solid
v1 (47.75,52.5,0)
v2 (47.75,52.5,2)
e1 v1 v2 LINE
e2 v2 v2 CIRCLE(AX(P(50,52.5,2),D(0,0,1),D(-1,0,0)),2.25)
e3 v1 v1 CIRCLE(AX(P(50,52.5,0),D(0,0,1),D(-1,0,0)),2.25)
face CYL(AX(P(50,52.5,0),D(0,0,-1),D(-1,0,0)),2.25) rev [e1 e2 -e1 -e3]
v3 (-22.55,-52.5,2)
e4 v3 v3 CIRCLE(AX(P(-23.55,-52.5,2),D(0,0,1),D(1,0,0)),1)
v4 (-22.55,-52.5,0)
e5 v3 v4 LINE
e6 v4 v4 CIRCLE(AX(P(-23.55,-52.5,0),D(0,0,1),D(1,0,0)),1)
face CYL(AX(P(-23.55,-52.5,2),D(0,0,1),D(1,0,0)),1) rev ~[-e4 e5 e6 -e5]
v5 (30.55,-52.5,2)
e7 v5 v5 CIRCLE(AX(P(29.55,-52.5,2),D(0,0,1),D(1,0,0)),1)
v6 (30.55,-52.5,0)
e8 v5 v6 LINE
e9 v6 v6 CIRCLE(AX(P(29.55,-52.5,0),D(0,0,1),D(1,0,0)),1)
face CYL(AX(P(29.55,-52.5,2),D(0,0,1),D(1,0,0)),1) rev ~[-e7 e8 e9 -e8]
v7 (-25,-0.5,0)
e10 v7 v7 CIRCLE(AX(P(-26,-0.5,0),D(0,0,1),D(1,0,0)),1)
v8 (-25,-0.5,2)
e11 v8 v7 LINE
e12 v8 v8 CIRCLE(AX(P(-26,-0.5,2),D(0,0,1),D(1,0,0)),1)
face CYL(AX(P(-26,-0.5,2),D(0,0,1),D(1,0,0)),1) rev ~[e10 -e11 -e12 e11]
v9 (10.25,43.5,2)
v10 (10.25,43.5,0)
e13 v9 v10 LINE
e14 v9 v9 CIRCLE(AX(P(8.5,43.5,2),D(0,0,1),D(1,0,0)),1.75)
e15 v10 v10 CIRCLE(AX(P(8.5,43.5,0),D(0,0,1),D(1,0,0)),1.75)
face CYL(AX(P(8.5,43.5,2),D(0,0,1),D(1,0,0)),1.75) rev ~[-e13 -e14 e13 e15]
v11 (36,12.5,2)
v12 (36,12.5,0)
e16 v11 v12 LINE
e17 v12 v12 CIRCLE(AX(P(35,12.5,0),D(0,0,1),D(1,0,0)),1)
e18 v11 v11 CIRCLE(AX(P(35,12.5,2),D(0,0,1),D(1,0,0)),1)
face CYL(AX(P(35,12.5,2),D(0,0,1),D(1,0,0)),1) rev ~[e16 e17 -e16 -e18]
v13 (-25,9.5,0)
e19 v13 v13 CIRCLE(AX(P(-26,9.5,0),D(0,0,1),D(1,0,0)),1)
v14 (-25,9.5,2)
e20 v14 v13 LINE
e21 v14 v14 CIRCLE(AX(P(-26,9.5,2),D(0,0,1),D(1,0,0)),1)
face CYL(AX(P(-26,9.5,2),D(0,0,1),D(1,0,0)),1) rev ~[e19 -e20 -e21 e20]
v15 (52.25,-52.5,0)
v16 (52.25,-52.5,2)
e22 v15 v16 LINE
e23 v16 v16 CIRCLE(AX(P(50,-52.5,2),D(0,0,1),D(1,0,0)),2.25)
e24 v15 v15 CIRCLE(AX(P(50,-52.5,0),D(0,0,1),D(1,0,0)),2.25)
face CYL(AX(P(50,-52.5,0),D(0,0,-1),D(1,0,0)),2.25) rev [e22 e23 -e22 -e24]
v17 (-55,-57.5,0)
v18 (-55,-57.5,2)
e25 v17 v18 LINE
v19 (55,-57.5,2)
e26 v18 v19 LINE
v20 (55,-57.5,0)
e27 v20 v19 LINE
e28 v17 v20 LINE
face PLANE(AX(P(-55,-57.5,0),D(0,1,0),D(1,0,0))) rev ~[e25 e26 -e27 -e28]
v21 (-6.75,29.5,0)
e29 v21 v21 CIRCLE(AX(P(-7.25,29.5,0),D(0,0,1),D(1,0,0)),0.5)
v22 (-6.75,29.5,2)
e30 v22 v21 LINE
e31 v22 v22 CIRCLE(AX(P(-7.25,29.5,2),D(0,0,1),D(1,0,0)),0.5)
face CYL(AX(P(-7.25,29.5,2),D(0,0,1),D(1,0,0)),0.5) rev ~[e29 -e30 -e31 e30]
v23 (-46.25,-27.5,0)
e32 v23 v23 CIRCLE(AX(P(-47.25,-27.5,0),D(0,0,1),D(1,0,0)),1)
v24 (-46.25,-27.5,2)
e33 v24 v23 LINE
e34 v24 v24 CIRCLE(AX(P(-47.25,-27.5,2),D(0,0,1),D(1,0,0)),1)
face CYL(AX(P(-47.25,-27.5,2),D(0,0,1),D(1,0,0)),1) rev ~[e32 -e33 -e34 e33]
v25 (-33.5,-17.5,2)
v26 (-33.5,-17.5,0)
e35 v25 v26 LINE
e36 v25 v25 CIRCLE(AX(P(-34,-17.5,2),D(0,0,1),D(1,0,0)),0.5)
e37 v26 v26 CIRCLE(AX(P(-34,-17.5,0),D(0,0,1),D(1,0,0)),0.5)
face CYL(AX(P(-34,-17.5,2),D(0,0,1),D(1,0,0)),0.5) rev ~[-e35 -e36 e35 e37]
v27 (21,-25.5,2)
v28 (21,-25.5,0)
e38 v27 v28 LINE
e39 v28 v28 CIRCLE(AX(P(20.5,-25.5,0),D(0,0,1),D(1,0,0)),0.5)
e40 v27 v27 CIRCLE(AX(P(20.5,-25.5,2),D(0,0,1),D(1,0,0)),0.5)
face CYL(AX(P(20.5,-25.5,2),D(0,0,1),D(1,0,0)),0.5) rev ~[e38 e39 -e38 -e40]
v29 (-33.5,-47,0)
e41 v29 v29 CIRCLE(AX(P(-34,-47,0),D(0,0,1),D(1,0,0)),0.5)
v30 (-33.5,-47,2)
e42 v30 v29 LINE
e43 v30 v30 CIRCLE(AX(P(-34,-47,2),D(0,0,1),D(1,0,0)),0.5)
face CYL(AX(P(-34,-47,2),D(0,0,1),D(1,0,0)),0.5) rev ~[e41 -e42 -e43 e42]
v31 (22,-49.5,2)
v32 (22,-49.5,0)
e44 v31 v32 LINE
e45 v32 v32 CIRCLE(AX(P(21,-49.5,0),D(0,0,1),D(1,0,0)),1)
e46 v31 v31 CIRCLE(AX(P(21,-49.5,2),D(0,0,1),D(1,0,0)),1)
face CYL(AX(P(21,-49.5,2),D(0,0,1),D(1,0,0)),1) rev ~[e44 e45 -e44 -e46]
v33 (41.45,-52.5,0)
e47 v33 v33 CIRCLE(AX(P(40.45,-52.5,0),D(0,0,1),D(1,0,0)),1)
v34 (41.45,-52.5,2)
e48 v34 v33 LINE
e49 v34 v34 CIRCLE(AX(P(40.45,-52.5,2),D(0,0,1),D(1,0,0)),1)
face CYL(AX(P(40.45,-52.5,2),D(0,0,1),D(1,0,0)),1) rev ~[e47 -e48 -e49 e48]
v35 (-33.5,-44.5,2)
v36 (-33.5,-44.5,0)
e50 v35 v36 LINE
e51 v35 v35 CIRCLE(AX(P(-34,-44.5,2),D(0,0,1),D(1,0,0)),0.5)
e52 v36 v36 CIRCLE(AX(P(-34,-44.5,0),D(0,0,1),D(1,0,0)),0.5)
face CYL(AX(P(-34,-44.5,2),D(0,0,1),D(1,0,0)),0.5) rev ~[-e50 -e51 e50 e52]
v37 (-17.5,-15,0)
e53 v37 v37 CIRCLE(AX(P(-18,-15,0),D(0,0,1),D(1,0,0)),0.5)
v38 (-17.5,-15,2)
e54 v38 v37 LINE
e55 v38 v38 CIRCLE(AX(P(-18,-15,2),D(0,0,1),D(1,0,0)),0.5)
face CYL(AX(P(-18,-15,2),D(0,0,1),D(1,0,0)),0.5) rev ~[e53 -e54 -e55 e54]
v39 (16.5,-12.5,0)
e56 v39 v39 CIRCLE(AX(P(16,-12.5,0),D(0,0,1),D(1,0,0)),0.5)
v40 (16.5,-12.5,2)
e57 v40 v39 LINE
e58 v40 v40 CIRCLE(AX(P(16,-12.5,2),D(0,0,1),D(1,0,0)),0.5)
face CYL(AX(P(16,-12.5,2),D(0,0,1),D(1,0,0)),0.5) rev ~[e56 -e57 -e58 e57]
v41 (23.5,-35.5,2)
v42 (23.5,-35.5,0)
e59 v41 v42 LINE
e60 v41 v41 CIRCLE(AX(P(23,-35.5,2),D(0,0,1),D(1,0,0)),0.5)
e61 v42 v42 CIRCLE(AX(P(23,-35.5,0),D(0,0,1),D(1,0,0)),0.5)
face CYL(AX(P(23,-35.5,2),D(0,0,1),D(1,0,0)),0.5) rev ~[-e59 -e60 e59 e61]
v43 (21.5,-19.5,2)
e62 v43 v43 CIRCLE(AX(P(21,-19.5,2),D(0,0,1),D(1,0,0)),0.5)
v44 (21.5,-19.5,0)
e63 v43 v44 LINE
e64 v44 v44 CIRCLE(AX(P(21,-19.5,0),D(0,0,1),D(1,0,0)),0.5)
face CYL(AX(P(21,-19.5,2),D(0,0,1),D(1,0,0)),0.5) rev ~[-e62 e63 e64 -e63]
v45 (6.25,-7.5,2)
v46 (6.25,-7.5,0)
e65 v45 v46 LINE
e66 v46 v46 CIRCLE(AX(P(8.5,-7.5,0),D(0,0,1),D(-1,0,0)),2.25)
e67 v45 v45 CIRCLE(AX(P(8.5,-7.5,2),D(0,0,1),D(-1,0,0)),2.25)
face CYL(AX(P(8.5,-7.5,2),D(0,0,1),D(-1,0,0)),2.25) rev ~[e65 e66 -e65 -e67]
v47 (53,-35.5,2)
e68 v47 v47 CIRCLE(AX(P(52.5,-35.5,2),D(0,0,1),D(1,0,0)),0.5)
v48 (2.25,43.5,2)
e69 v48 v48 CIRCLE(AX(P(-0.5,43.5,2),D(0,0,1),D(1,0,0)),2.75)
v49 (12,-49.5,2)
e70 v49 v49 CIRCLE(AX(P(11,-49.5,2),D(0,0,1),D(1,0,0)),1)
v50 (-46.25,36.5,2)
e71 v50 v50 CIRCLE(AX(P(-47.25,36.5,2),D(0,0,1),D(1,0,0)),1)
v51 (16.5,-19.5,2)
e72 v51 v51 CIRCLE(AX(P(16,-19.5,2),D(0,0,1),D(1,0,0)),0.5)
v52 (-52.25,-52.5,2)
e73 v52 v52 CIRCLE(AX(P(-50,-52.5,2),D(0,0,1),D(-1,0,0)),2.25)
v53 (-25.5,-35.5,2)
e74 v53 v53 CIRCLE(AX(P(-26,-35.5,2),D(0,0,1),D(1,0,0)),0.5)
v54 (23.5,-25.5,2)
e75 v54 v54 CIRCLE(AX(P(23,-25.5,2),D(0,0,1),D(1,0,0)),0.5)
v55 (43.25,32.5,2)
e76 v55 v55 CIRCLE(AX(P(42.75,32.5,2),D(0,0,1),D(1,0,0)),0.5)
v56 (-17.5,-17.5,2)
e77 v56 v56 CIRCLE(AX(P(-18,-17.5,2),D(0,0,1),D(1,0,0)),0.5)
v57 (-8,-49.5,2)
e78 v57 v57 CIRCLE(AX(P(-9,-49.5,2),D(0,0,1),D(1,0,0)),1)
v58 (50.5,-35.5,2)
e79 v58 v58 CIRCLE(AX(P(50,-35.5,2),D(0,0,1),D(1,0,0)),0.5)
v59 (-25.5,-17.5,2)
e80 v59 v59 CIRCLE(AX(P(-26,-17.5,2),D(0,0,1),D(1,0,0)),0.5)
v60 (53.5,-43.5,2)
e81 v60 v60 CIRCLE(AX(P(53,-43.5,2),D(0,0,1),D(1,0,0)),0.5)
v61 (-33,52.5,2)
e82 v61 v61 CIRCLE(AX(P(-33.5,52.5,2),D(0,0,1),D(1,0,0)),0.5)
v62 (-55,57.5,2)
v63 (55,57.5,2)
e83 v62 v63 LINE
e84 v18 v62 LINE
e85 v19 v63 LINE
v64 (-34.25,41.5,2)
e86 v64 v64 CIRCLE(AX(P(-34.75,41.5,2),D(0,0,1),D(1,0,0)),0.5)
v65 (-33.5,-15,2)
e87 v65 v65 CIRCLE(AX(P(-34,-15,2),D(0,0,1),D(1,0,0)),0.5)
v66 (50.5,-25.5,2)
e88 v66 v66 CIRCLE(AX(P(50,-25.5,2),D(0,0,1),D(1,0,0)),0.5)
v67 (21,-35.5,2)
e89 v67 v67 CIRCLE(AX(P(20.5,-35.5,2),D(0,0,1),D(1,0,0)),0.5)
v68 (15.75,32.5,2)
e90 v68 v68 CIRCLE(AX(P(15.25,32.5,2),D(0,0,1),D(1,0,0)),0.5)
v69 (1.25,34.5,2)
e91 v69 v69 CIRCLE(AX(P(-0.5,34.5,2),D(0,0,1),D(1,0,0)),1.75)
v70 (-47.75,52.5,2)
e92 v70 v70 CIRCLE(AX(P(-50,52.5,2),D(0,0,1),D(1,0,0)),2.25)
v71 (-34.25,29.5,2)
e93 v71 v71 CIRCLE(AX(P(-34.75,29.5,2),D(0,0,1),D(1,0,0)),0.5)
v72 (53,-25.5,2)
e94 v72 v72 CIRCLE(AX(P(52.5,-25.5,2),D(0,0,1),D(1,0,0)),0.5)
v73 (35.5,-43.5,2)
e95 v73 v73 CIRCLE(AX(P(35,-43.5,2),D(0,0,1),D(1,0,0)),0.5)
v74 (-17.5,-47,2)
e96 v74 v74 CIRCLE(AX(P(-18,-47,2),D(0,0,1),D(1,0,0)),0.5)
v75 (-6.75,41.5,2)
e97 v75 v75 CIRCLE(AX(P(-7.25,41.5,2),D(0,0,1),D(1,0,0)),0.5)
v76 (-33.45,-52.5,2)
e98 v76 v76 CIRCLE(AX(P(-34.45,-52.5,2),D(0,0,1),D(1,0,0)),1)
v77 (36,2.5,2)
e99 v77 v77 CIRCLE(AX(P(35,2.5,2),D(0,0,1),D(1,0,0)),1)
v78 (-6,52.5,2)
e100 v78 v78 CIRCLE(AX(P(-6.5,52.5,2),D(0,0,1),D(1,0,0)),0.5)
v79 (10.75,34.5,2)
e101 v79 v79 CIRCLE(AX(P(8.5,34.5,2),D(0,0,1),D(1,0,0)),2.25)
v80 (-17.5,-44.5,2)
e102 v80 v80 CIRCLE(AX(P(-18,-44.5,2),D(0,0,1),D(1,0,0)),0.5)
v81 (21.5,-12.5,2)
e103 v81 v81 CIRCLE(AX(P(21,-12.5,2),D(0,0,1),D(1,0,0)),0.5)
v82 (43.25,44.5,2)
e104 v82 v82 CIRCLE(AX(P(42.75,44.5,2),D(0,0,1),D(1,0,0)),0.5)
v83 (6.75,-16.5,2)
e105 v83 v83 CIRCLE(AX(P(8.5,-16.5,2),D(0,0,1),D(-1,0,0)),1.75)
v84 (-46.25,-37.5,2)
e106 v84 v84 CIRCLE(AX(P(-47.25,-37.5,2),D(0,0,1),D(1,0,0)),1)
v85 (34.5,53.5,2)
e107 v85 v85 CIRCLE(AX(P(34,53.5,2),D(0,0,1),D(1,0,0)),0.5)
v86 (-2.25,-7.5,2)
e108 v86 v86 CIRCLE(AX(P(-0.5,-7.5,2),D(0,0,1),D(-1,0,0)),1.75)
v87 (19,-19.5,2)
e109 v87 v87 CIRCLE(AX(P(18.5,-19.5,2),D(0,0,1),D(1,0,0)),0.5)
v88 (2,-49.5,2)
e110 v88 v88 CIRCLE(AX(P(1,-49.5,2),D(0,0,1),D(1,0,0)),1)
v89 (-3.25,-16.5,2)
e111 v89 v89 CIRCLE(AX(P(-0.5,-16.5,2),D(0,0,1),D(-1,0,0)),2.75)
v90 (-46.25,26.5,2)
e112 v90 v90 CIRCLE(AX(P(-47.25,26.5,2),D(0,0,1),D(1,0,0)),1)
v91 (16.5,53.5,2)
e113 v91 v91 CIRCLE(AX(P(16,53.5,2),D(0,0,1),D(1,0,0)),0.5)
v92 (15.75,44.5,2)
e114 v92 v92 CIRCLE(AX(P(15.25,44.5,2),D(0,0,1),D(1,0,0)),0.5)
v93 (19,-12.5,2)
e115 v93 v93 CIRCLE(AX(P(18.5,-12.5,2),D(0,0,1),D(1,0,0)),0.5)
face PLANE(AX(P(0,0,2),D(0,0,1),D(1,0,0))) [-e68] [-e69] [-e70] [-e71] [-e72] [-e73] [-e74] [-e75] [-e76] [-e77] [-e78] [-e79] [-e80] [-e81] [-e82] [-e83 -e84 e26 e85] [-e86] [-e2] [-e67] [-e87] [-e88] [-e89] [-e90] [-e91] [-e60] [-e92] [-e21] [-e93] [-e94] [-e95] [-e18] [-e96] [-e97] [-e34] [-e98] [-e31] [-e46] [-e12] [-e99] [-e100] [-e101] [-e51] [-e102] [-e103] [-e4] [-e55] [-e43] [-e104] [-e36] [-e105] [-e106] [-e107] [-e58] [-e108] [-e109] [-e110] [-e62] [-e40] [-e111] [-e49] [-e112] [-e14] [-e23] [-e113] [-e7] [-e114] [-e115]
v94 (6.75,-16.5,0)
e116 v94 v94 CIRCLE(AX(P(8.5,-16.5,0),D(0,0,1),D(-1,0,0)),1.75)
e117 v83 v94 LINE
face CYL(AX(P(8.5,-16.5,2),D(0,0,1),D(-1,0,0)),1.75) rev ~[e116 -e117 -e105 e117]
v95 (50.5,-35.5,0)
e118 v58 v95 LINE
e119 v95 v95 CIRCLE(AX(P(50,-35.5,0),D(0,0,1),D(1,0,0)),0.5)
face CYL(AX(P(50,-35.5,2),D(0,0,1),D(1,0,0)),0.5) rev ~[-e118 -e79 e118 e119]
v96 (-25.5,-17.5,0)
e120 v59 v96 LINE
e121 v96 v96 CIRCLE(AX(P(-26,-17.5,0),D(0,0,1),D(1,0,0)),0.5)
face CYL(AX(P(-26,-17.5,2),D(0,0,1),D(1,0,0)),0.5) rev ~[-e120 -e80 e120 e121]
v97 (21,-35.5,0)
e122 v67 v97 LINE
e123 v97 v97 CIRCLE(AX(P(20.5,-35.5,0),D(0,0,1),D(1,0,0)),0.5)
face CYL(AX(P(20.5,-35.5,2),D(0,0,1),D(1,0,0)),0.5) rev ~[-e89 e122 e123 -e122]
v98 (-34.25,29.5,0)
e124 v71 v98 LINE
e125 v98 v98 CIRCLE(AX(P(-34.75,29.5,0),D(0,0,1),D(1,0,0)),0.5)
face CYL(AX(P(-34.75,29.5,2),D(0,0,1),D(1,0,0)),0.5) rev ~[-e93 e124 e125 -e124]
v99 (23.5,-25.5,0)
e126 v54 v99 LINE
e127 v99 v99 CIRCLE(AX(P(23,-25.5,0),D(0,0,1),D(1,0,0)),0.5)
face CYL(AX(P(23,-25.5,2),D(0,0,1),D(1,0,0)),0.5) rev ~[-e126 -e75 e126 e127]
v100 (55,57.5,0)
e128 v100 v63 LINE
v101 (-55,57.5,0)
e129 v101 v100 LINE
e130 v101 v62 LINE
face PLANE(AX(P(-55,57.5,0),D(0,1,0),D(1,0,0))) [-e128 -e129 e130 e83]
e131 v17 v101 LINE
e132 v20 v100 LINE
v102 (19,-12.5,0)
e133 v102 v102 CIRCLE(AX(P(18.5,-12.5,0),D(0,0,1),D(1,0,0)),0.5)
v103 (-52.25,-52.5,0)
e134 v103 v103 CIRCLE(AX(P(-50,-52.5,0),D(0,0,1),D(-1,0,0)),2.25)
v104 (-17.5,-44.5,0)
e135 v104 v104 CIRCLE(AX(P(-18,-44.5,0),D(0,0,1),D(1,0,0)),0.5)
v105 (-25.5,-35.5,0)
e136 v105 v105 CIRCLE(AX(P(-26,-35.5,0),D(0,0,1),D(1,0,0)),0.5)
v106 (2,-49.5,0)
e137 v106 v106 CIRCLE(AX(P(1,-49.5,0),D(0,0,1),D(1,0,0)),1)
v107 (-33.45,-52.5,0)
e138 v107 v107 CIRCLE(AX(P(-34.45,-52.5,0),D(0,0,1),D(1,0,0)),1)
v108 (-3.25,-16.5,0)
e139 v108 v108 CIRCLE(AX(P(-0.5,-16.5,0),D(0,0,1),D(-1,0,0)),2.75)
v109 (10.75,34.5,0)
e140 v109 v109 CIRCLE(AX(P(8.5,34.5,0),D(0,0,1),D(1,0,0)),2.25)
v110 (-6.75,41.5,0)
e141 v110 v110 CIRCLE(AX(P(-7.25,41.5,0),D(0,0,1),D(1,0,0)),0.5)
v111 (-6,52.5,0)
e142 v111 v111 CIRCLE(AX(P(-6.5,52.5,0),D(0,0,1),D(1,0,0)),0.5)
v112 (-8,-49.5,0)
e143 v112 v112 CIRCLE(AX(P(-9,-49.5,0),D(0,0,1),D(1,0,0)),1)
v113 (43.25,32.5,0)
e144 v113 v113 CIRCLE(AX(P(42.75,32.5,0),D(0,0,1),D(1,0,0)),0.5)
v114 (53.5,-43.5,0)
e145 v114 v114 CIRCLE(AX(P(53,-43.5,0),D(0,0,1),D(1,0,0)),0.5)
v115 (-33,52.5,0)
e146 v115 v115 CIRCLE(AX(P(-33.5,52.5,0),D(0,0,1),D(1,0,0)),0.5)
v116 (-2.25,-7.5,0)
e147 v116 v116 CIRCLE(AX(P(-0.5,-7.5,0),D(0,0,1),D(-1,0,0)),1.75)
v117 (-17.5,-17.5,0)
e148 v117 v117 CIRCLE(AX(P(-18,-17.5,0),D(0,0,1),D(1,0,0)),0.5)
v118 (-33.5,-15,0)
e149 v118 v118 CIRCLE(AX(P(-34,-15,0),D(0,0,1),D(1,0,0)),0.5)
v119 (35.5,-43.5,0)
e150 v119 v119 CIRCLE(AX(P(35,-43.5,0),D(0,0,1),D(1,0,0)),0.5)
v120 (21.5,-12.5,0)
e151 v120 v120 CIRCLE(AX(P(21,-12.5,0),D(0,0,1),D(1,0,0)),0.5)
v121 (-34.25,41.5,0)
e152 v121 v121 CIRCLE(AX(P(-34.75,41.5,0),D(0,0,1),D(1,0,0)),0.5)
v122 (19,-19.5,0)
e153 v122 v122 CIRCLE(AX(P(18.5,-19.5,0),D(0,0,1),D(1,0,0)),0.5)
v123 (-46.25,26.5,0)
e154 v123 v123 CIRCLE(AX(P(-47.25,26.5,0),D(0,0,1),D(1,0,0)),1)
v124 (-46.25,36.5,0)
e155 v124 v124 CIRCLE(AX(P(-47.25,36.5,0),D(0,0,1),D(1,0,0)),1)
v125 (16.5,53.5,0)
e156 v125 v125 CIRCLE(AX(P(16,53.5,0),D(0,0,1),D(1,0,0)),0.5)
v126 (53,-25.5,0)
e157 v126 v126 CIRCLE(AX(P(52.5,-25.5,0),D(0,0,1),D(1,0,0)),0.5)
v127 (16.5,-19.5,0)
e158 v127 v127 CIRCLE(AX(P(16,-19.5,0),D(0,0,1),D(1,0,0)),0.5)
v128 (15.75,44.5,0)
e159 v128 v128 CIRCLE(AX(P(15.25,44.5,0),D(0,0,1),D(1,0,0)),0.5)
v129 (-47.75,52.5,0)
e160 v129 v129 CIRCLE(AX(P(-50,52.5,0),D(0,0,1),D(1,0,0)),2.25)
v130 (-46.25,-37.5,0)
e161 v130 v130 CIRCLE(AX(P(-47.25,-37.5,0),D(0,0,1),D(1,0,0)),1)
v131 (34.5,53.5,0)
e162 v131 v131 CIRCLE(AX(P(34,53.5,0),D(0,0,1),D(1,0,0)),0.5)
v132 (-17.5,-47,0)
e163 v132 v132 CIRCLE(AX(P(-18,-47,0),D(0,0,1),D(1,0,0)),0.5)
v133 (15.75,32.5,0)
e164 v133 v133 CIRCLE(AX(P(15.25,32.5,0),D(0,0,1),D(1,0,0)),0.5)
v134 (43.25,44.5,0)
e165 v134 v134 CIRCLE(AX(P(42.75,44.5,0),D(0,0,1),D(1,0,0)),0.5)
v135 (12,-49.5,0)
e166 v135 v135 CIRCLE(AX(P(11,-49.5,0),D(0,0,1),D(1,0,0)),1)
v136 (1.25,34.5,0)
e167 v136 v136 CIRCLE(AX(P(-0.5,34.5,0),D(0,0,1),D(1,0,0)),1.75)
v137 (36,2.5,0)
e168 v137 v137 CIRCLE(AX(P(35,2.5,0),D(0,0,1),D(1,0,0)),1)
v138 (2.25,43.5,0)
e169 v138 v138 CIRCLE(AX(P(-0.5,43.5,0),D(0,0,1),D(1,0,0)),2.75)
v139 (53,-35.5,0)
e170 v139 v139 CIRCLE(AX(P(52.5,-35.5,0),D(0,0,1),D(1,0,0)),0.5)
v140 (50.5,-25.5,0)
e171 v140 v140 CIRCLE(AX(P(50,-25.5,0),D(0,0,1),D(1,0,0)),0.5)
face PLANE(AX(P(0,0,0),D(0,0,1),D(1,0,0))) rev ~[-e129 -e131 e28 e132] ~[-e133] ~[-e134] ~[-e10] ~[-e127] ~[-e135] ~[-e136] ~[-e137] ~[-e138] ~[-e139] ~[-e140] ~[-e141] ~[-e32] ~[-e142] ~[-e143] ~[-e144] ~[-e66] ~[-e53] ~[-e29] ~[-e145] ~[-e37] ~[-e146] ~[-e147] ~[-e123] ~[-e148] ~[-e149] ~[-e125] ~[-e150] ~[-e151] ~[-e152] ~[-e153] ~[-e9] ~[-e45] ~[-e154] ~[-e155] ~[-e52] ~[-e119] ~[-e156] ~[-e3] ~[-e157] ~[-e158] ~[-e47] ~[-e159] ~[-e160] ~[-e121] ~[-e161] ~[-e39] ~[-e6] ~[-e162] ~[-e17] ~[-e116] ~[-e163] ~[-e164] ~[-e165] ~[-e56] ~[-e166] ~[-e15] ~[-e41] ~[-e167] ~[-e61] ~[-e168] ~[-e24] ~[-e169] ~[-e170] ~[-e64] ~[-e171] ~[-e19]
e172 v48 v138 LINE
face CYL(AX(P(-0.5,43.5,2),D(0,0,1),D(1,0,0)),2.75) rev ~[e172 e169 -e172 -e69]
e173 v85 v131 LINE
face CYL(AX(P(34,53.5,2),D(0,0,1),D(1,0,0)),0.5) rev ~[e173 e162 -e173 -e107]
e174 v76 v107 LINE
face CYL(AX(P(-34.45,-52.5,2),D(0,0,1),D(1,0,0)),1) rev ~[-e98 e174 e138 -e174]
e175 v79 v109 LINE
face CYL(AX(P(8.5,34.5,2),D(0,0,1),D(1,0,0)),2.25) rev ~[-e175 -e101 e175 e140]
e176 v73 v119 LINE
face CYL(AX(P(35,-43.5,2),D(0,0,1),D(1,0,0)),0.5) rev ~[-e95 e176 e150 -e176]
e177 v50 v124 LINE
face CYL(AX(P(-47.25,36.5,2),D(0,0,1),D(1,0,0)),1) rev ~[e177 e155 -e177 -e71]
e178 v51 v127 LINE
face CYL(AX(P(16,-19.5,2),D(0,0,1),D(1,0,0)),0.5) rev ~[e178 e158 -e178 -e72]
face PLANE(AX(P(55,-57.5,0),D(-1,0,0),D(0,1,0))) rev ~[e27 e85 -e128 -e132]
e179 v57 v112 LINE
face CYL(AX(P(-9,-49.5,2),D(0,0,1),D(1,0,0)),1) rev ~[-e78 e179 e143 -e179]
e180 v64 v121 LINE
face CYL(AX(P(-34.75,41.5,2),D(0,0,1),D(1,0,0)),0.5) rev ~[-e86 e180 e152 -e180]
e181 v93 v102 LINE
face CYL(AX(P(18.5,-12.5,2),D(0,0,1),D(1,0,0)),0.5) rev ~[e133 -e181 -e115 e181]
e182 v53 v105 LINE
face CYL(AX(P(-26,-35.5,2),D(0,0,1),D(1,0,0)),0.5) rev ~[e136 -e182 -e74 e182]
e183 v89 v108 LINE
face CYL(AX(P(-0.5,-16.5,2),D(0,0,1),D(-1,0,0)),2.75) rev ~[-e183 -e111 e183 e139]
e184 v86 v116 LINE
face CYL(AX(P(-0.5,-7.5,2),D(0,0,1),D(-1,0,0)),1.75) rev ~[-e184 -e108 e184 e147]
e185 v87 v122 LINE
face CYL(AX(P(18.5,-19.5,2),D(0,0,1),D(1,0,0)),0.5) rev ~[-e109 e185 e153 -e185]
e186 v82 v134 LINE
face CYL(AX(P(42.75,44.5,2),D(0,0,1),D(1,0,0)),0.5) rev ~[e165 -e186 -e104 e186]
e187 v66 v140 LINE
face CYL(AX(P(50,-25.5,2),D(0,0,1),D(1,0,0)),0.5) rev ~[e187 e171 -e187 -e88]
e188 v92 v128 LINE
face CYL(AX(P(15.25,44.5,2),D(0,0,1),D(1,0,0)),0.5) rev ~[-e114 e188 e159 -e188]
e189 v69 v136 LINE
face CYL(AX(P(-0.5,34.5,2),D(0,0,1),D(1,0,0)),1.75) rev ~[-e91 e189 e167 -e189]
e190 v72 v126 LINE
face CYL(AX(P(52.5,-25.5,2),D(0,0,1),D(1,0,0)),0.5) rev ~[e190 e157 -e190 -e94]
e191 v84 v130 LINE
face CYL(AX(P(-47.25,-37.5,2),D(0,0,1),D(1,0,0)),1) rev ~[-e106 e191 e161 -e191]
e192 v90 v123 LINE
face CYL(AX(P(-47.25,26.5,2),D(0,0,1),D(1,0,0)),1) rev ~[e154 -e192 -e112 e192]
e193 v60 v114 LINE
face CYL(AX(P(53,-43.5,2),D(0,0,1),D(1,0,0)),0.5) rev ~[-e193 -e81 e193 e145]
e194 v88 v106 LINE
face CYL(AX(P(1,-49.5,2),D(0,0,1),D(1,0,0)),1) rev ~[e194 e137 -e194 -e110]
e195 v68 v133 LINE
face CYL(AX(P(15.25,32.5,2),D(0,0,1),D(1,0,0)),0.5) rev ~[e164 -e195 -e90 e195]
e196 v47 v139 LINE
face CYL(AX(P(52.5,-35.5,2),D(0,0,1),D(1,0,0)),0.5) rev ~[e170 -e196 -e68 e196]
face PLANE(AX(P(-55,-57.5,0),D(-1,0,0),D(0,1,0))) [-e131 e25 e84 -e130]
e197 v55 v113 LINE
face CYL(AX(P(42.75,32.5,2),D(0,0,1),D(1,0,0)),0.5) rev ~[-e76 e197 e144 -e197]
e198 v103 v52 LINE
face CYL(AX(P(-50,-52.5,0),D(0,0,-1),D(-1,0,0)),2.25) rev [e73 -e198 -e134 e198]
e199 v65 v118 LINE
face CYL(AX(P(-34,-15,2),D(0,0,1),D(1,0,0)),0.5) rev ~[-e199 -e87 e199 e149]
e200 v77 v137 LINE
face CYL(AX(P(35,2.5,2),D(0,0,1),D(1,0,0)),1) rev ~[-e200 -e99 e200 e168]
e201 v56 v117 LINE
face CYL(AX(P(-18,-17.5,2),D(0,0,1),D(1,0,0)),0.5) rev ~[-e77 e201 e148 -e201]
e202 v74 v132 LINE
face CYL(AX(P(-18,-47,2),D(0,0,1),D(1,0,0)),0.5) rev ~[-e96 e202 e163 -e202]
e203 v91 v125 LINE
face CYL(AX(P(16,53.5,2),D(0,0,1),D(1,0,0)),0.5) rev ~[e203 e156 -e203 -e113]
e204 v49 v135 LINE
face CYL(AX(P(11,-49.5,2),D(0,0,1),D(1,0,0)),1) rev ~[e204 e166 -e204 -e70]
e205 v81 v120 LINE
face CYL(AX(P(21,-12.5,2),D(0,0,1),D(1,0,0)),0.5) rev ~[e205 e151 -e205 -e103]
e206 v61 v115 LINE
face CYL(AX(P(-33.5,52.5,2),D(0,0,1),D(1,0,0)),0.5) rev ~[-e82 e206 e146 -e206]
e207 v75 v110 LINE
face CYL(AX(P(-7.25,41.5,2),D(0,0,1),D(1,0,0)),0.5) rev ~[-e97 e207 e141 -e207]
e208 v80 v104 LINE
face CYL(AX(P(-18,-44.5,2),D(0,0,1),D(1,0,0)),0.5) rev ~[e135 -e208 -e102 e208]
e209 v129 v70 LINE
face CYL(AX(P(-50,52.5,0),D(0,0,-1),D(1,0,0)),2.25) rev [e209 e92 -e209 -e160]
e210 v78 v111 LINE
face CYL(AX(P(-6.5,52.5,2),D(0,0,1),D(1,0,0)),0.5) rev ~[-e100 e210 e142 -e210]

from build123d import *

# Parameters (mm, degrees)
SKETCH_1_W          = 110
SKETCH_1_H          = 115
SKETCH_1_R          = 2.25
EXTRUDE_1_DEPTH     = 2
SKETCH_2_R          = 1
SKETCH_2_R_2        = 0.5
CUT_EXTRUDE_1_DEPTH = 2
SKETCH_3_R          = 1
SKETCH_3_R_2        = 1.75
SKETCH_3_R_3        = 2.75
SKETCH_3_R_4        = 2.25
SKETCH_3_R_5        = 0.5
CUT_EXTRUDE_2_DEPTH = 2
SKETCH_4_R          = 0.5
CUT_EXTRUDE_3_DEPTH = 10


with BuildPart() as part:
    # Эскиз1 → Вытянуть1 (new body)
    with BuildSketch(Plane.XY):
        Rectangle(SKETCH_1_W, SKETCH_1_H)
        with Locations((-50, 52.5)):
            Circle(SKETCH_1_R, mode=Mode.SUBTRACT)
        with Locations(Location((50, 52.5, 0), (0, 0, 180))):
            Circle(SKETCH_1_R, mode=Mode.SUBTRACT)
        with Locations((50, -52.5)):
            Circle(SKETCH_1_R, mode=Mode.SUBTRACT)
        with Locations(Location((-50, -52.5, 0), (0, 0, 180))):
            Circle(SKETCH_1_R, mode=Mode.SUBTRACT)
    extrude(amount=EXTRUDE_1_DEPTH)

    # Эскиз2 → Вырез-Вытянуть1 (cut)
    with BuildSketch(Plane.XY.offset(2)):
        with Locations((-47.25, -37.5)):
            Circle(SKETCH_2_R)
        with Locations((-47.25, -27.5)):
            Circle(SKETCH_2_R)
        with Locations((-47.25, 26.5)):
            Circle(SKETCH_2_R)
        with Locations((-47.25, 36.5)):
            Circle(SKETCH_2_R)
        with Locations((29.55, -52.5)):
            Circle(SKETCH_2_R)
        with Locations((40.45, -52.5)):
            Circle(SKETCH_2_R)
        with Locations((-34.45, -52.5)):
            Circle(SKETCH_2_R)
        with Locations((-23.55, -52.5)):
            Circle(SKETCH_2_R)
        with Locations((-34, -44.5)):
            Circle(SKETCH_2_R_2)
        with Locations((-34, -17.5)):
            Circle(SKETCH_2_R_2)
        with Locations((-18, -44.5)):
            Circle(SKETCH_2_R_2)
        with Locations((-18, -17.5)):
            Circle(SKETCH_2_R_2)
        with Locations((-34, -47)):
            Circle(SKETCH_2_R_2)
        with Locations((-9, -49.5)):
            Circle(SKETCH_2_R)
        with Locations((1, -49.5)):
            Circle(SKETCH_2_R)
        with Locations((11, -49.5)):
            Circle(SKETCH_2_R)
        with Locations((21, -49.5)):
            Circle(SKETCH_2_R)
        with Locations((-34, -15)):
            Circle(SKETCH_2_R_2)
        with Locations((-18, -15)):
            Circle(SKETCH_2_R_2)
        with Locations((-18, -47)):
            Circle(SKETCH_2_R_2)
        with Locations((23, -35.5)):
            Circle(SKETCH_2_R_2)
        with Locations((50, -35.5)):
            Circle(SKETCH_2_R_2)
        with Locations((20.5, -35.5)):
            Circle(SKETCH_2_R_2)
        with Locations((52.5, -35.5)):
            Circle(SKETCH_2_R_2)
        with Locations((23, -25.5)):
            Circle(SKETCH_2_R_2)
        with Locations((50, -25.5)):
            Circle(SKETCH_2_R_2)
        with Locations((20.5, -25.5)):
            Circle(SKETCH_2_R_2)
        with Locations((52.5, -25.5)):
            Circle(SKETCH_2_R_2)
        with Locations((-33.5, 52.5)):
            Circle(SKETCH_2_R_2)
        with Locations((-6.5, 52.5)):
            Circle(SKETCH_2_R_2)
    extrude(amount=-CUT_EXTRUDE_1_DEPTH, mode=Mode.SUBTRACT)

    # Эскиз3 → Вырез-Вытянуть2 (cut)
    with BuildSketch(Plane.XY.offset(2)):
        with Locations((-26, 9.5)):
            Circle(SKETCH_3_R)
        with Locations((-26, -0.5)):
            Circle(SKETCH_3_R)
        with Locations((-0.5, 34.5)):
            Circle(SKETCH_3_R_2)
        with Locations((-0.5, 43.5)):
            Circle(SKETCH_3_R_3)
        with Locations((8.5, 43.5)):
            Circle(SKETCH_3_R_2)
        with Locations((8.5, 34.5)):
            Circle(SKETCH_3_R_4)
        with Locations(Location((8.5, -16.5, 0), (0, 0, 180))):
            Circle(SKETCH_3_R_2)
        with Locations(Location((8.5, -7.5, 0), (0, 0, 180))):
            Circle(SKETCH_3_R_4)
        with Locations(Location((-0.5, -16.5, 0), (0, 0, 180))):
            Circle(SKETCH_3_R_3)
        with Locations(Location((-0.5, -7.5, 0), (0, 0, 180))):
            Circle(SKETCH_3_R_2)
        with Locations((35, 12.5)):
            Circle(SKETCH_3_R)
        with Locations((35, 2.5)):
            Circle(SKETCH_3_R)
        with Locations((21, -19.5)):
            Circle(SKETCH_3_R_5)
        with Locations((18.5, -19.5)):
            Circle(SKETCH_3_R_5)
        with Locations((16, -19.5)):
            Circle(SKETCH_3_R_5)
        with Locations((21, -12.5)):
            Circle(SKETCH_3_R_5)
        with Locations((18.5, -12.5)):
            Circle(SKETCH_3_R_5)
        with Locations((16, -12.5)):
            Circle(SKETCH_3_R_5)
        with Locations((-26, -35.5)):
            Circle(SKETCH_3_R_5)
        with Locations((-26, -17.5)):
            Circle(SKETCH_3_R_5)
        with Locations((35, -43.5)):
            Circle(SKETCH_3_R_5)
        with Locations((53, -43.5)):
            Circle(SKETCH_3_R_5)
        with Locations((16, 53.5)):
            Circle(SKETCH_3_R_5)
        with Locations((34, 53.5)):
            Circle(SKETCH_3_R_5)
    extrude(amount=-CUT_EXTRUDE_2_DEPTH, mode=Mode.SUBTRACT)

    # Эскиз4 → Вырез-Вытянуть3 (cut)
    with BuildSketch(Plane.XY.offset(2)):
        with Locations((15.25, 32.5)):
            Circle(SKETCH_4_R)
        with Locations((42.75, 32.5)):
            Circle(SKETCH_4_R)
        with Locations((15.25, 44.5)):
            Circle(SKETCH_4_R)
        with Locations((42.75, 44.5)):
            Circle(SKETCH_4_R)
        with Locations((-34.75, 29.5)):
            Circle(SKETCH_4_R)
        with Locations((-7.25, 29.5)):
            Circle(SKETCH_4_R)
        with Locations((-34.75, 41.5)):
            Circle(SKETCH_4_R)
        with Locations((-7.25, 41.5)):
            Circle(SKETCH_4_R)
    extrude(amount=-CUT_EXTRUDE_3_DEPTH, mode=Mode.SUBTRACT)


solid = part.part
